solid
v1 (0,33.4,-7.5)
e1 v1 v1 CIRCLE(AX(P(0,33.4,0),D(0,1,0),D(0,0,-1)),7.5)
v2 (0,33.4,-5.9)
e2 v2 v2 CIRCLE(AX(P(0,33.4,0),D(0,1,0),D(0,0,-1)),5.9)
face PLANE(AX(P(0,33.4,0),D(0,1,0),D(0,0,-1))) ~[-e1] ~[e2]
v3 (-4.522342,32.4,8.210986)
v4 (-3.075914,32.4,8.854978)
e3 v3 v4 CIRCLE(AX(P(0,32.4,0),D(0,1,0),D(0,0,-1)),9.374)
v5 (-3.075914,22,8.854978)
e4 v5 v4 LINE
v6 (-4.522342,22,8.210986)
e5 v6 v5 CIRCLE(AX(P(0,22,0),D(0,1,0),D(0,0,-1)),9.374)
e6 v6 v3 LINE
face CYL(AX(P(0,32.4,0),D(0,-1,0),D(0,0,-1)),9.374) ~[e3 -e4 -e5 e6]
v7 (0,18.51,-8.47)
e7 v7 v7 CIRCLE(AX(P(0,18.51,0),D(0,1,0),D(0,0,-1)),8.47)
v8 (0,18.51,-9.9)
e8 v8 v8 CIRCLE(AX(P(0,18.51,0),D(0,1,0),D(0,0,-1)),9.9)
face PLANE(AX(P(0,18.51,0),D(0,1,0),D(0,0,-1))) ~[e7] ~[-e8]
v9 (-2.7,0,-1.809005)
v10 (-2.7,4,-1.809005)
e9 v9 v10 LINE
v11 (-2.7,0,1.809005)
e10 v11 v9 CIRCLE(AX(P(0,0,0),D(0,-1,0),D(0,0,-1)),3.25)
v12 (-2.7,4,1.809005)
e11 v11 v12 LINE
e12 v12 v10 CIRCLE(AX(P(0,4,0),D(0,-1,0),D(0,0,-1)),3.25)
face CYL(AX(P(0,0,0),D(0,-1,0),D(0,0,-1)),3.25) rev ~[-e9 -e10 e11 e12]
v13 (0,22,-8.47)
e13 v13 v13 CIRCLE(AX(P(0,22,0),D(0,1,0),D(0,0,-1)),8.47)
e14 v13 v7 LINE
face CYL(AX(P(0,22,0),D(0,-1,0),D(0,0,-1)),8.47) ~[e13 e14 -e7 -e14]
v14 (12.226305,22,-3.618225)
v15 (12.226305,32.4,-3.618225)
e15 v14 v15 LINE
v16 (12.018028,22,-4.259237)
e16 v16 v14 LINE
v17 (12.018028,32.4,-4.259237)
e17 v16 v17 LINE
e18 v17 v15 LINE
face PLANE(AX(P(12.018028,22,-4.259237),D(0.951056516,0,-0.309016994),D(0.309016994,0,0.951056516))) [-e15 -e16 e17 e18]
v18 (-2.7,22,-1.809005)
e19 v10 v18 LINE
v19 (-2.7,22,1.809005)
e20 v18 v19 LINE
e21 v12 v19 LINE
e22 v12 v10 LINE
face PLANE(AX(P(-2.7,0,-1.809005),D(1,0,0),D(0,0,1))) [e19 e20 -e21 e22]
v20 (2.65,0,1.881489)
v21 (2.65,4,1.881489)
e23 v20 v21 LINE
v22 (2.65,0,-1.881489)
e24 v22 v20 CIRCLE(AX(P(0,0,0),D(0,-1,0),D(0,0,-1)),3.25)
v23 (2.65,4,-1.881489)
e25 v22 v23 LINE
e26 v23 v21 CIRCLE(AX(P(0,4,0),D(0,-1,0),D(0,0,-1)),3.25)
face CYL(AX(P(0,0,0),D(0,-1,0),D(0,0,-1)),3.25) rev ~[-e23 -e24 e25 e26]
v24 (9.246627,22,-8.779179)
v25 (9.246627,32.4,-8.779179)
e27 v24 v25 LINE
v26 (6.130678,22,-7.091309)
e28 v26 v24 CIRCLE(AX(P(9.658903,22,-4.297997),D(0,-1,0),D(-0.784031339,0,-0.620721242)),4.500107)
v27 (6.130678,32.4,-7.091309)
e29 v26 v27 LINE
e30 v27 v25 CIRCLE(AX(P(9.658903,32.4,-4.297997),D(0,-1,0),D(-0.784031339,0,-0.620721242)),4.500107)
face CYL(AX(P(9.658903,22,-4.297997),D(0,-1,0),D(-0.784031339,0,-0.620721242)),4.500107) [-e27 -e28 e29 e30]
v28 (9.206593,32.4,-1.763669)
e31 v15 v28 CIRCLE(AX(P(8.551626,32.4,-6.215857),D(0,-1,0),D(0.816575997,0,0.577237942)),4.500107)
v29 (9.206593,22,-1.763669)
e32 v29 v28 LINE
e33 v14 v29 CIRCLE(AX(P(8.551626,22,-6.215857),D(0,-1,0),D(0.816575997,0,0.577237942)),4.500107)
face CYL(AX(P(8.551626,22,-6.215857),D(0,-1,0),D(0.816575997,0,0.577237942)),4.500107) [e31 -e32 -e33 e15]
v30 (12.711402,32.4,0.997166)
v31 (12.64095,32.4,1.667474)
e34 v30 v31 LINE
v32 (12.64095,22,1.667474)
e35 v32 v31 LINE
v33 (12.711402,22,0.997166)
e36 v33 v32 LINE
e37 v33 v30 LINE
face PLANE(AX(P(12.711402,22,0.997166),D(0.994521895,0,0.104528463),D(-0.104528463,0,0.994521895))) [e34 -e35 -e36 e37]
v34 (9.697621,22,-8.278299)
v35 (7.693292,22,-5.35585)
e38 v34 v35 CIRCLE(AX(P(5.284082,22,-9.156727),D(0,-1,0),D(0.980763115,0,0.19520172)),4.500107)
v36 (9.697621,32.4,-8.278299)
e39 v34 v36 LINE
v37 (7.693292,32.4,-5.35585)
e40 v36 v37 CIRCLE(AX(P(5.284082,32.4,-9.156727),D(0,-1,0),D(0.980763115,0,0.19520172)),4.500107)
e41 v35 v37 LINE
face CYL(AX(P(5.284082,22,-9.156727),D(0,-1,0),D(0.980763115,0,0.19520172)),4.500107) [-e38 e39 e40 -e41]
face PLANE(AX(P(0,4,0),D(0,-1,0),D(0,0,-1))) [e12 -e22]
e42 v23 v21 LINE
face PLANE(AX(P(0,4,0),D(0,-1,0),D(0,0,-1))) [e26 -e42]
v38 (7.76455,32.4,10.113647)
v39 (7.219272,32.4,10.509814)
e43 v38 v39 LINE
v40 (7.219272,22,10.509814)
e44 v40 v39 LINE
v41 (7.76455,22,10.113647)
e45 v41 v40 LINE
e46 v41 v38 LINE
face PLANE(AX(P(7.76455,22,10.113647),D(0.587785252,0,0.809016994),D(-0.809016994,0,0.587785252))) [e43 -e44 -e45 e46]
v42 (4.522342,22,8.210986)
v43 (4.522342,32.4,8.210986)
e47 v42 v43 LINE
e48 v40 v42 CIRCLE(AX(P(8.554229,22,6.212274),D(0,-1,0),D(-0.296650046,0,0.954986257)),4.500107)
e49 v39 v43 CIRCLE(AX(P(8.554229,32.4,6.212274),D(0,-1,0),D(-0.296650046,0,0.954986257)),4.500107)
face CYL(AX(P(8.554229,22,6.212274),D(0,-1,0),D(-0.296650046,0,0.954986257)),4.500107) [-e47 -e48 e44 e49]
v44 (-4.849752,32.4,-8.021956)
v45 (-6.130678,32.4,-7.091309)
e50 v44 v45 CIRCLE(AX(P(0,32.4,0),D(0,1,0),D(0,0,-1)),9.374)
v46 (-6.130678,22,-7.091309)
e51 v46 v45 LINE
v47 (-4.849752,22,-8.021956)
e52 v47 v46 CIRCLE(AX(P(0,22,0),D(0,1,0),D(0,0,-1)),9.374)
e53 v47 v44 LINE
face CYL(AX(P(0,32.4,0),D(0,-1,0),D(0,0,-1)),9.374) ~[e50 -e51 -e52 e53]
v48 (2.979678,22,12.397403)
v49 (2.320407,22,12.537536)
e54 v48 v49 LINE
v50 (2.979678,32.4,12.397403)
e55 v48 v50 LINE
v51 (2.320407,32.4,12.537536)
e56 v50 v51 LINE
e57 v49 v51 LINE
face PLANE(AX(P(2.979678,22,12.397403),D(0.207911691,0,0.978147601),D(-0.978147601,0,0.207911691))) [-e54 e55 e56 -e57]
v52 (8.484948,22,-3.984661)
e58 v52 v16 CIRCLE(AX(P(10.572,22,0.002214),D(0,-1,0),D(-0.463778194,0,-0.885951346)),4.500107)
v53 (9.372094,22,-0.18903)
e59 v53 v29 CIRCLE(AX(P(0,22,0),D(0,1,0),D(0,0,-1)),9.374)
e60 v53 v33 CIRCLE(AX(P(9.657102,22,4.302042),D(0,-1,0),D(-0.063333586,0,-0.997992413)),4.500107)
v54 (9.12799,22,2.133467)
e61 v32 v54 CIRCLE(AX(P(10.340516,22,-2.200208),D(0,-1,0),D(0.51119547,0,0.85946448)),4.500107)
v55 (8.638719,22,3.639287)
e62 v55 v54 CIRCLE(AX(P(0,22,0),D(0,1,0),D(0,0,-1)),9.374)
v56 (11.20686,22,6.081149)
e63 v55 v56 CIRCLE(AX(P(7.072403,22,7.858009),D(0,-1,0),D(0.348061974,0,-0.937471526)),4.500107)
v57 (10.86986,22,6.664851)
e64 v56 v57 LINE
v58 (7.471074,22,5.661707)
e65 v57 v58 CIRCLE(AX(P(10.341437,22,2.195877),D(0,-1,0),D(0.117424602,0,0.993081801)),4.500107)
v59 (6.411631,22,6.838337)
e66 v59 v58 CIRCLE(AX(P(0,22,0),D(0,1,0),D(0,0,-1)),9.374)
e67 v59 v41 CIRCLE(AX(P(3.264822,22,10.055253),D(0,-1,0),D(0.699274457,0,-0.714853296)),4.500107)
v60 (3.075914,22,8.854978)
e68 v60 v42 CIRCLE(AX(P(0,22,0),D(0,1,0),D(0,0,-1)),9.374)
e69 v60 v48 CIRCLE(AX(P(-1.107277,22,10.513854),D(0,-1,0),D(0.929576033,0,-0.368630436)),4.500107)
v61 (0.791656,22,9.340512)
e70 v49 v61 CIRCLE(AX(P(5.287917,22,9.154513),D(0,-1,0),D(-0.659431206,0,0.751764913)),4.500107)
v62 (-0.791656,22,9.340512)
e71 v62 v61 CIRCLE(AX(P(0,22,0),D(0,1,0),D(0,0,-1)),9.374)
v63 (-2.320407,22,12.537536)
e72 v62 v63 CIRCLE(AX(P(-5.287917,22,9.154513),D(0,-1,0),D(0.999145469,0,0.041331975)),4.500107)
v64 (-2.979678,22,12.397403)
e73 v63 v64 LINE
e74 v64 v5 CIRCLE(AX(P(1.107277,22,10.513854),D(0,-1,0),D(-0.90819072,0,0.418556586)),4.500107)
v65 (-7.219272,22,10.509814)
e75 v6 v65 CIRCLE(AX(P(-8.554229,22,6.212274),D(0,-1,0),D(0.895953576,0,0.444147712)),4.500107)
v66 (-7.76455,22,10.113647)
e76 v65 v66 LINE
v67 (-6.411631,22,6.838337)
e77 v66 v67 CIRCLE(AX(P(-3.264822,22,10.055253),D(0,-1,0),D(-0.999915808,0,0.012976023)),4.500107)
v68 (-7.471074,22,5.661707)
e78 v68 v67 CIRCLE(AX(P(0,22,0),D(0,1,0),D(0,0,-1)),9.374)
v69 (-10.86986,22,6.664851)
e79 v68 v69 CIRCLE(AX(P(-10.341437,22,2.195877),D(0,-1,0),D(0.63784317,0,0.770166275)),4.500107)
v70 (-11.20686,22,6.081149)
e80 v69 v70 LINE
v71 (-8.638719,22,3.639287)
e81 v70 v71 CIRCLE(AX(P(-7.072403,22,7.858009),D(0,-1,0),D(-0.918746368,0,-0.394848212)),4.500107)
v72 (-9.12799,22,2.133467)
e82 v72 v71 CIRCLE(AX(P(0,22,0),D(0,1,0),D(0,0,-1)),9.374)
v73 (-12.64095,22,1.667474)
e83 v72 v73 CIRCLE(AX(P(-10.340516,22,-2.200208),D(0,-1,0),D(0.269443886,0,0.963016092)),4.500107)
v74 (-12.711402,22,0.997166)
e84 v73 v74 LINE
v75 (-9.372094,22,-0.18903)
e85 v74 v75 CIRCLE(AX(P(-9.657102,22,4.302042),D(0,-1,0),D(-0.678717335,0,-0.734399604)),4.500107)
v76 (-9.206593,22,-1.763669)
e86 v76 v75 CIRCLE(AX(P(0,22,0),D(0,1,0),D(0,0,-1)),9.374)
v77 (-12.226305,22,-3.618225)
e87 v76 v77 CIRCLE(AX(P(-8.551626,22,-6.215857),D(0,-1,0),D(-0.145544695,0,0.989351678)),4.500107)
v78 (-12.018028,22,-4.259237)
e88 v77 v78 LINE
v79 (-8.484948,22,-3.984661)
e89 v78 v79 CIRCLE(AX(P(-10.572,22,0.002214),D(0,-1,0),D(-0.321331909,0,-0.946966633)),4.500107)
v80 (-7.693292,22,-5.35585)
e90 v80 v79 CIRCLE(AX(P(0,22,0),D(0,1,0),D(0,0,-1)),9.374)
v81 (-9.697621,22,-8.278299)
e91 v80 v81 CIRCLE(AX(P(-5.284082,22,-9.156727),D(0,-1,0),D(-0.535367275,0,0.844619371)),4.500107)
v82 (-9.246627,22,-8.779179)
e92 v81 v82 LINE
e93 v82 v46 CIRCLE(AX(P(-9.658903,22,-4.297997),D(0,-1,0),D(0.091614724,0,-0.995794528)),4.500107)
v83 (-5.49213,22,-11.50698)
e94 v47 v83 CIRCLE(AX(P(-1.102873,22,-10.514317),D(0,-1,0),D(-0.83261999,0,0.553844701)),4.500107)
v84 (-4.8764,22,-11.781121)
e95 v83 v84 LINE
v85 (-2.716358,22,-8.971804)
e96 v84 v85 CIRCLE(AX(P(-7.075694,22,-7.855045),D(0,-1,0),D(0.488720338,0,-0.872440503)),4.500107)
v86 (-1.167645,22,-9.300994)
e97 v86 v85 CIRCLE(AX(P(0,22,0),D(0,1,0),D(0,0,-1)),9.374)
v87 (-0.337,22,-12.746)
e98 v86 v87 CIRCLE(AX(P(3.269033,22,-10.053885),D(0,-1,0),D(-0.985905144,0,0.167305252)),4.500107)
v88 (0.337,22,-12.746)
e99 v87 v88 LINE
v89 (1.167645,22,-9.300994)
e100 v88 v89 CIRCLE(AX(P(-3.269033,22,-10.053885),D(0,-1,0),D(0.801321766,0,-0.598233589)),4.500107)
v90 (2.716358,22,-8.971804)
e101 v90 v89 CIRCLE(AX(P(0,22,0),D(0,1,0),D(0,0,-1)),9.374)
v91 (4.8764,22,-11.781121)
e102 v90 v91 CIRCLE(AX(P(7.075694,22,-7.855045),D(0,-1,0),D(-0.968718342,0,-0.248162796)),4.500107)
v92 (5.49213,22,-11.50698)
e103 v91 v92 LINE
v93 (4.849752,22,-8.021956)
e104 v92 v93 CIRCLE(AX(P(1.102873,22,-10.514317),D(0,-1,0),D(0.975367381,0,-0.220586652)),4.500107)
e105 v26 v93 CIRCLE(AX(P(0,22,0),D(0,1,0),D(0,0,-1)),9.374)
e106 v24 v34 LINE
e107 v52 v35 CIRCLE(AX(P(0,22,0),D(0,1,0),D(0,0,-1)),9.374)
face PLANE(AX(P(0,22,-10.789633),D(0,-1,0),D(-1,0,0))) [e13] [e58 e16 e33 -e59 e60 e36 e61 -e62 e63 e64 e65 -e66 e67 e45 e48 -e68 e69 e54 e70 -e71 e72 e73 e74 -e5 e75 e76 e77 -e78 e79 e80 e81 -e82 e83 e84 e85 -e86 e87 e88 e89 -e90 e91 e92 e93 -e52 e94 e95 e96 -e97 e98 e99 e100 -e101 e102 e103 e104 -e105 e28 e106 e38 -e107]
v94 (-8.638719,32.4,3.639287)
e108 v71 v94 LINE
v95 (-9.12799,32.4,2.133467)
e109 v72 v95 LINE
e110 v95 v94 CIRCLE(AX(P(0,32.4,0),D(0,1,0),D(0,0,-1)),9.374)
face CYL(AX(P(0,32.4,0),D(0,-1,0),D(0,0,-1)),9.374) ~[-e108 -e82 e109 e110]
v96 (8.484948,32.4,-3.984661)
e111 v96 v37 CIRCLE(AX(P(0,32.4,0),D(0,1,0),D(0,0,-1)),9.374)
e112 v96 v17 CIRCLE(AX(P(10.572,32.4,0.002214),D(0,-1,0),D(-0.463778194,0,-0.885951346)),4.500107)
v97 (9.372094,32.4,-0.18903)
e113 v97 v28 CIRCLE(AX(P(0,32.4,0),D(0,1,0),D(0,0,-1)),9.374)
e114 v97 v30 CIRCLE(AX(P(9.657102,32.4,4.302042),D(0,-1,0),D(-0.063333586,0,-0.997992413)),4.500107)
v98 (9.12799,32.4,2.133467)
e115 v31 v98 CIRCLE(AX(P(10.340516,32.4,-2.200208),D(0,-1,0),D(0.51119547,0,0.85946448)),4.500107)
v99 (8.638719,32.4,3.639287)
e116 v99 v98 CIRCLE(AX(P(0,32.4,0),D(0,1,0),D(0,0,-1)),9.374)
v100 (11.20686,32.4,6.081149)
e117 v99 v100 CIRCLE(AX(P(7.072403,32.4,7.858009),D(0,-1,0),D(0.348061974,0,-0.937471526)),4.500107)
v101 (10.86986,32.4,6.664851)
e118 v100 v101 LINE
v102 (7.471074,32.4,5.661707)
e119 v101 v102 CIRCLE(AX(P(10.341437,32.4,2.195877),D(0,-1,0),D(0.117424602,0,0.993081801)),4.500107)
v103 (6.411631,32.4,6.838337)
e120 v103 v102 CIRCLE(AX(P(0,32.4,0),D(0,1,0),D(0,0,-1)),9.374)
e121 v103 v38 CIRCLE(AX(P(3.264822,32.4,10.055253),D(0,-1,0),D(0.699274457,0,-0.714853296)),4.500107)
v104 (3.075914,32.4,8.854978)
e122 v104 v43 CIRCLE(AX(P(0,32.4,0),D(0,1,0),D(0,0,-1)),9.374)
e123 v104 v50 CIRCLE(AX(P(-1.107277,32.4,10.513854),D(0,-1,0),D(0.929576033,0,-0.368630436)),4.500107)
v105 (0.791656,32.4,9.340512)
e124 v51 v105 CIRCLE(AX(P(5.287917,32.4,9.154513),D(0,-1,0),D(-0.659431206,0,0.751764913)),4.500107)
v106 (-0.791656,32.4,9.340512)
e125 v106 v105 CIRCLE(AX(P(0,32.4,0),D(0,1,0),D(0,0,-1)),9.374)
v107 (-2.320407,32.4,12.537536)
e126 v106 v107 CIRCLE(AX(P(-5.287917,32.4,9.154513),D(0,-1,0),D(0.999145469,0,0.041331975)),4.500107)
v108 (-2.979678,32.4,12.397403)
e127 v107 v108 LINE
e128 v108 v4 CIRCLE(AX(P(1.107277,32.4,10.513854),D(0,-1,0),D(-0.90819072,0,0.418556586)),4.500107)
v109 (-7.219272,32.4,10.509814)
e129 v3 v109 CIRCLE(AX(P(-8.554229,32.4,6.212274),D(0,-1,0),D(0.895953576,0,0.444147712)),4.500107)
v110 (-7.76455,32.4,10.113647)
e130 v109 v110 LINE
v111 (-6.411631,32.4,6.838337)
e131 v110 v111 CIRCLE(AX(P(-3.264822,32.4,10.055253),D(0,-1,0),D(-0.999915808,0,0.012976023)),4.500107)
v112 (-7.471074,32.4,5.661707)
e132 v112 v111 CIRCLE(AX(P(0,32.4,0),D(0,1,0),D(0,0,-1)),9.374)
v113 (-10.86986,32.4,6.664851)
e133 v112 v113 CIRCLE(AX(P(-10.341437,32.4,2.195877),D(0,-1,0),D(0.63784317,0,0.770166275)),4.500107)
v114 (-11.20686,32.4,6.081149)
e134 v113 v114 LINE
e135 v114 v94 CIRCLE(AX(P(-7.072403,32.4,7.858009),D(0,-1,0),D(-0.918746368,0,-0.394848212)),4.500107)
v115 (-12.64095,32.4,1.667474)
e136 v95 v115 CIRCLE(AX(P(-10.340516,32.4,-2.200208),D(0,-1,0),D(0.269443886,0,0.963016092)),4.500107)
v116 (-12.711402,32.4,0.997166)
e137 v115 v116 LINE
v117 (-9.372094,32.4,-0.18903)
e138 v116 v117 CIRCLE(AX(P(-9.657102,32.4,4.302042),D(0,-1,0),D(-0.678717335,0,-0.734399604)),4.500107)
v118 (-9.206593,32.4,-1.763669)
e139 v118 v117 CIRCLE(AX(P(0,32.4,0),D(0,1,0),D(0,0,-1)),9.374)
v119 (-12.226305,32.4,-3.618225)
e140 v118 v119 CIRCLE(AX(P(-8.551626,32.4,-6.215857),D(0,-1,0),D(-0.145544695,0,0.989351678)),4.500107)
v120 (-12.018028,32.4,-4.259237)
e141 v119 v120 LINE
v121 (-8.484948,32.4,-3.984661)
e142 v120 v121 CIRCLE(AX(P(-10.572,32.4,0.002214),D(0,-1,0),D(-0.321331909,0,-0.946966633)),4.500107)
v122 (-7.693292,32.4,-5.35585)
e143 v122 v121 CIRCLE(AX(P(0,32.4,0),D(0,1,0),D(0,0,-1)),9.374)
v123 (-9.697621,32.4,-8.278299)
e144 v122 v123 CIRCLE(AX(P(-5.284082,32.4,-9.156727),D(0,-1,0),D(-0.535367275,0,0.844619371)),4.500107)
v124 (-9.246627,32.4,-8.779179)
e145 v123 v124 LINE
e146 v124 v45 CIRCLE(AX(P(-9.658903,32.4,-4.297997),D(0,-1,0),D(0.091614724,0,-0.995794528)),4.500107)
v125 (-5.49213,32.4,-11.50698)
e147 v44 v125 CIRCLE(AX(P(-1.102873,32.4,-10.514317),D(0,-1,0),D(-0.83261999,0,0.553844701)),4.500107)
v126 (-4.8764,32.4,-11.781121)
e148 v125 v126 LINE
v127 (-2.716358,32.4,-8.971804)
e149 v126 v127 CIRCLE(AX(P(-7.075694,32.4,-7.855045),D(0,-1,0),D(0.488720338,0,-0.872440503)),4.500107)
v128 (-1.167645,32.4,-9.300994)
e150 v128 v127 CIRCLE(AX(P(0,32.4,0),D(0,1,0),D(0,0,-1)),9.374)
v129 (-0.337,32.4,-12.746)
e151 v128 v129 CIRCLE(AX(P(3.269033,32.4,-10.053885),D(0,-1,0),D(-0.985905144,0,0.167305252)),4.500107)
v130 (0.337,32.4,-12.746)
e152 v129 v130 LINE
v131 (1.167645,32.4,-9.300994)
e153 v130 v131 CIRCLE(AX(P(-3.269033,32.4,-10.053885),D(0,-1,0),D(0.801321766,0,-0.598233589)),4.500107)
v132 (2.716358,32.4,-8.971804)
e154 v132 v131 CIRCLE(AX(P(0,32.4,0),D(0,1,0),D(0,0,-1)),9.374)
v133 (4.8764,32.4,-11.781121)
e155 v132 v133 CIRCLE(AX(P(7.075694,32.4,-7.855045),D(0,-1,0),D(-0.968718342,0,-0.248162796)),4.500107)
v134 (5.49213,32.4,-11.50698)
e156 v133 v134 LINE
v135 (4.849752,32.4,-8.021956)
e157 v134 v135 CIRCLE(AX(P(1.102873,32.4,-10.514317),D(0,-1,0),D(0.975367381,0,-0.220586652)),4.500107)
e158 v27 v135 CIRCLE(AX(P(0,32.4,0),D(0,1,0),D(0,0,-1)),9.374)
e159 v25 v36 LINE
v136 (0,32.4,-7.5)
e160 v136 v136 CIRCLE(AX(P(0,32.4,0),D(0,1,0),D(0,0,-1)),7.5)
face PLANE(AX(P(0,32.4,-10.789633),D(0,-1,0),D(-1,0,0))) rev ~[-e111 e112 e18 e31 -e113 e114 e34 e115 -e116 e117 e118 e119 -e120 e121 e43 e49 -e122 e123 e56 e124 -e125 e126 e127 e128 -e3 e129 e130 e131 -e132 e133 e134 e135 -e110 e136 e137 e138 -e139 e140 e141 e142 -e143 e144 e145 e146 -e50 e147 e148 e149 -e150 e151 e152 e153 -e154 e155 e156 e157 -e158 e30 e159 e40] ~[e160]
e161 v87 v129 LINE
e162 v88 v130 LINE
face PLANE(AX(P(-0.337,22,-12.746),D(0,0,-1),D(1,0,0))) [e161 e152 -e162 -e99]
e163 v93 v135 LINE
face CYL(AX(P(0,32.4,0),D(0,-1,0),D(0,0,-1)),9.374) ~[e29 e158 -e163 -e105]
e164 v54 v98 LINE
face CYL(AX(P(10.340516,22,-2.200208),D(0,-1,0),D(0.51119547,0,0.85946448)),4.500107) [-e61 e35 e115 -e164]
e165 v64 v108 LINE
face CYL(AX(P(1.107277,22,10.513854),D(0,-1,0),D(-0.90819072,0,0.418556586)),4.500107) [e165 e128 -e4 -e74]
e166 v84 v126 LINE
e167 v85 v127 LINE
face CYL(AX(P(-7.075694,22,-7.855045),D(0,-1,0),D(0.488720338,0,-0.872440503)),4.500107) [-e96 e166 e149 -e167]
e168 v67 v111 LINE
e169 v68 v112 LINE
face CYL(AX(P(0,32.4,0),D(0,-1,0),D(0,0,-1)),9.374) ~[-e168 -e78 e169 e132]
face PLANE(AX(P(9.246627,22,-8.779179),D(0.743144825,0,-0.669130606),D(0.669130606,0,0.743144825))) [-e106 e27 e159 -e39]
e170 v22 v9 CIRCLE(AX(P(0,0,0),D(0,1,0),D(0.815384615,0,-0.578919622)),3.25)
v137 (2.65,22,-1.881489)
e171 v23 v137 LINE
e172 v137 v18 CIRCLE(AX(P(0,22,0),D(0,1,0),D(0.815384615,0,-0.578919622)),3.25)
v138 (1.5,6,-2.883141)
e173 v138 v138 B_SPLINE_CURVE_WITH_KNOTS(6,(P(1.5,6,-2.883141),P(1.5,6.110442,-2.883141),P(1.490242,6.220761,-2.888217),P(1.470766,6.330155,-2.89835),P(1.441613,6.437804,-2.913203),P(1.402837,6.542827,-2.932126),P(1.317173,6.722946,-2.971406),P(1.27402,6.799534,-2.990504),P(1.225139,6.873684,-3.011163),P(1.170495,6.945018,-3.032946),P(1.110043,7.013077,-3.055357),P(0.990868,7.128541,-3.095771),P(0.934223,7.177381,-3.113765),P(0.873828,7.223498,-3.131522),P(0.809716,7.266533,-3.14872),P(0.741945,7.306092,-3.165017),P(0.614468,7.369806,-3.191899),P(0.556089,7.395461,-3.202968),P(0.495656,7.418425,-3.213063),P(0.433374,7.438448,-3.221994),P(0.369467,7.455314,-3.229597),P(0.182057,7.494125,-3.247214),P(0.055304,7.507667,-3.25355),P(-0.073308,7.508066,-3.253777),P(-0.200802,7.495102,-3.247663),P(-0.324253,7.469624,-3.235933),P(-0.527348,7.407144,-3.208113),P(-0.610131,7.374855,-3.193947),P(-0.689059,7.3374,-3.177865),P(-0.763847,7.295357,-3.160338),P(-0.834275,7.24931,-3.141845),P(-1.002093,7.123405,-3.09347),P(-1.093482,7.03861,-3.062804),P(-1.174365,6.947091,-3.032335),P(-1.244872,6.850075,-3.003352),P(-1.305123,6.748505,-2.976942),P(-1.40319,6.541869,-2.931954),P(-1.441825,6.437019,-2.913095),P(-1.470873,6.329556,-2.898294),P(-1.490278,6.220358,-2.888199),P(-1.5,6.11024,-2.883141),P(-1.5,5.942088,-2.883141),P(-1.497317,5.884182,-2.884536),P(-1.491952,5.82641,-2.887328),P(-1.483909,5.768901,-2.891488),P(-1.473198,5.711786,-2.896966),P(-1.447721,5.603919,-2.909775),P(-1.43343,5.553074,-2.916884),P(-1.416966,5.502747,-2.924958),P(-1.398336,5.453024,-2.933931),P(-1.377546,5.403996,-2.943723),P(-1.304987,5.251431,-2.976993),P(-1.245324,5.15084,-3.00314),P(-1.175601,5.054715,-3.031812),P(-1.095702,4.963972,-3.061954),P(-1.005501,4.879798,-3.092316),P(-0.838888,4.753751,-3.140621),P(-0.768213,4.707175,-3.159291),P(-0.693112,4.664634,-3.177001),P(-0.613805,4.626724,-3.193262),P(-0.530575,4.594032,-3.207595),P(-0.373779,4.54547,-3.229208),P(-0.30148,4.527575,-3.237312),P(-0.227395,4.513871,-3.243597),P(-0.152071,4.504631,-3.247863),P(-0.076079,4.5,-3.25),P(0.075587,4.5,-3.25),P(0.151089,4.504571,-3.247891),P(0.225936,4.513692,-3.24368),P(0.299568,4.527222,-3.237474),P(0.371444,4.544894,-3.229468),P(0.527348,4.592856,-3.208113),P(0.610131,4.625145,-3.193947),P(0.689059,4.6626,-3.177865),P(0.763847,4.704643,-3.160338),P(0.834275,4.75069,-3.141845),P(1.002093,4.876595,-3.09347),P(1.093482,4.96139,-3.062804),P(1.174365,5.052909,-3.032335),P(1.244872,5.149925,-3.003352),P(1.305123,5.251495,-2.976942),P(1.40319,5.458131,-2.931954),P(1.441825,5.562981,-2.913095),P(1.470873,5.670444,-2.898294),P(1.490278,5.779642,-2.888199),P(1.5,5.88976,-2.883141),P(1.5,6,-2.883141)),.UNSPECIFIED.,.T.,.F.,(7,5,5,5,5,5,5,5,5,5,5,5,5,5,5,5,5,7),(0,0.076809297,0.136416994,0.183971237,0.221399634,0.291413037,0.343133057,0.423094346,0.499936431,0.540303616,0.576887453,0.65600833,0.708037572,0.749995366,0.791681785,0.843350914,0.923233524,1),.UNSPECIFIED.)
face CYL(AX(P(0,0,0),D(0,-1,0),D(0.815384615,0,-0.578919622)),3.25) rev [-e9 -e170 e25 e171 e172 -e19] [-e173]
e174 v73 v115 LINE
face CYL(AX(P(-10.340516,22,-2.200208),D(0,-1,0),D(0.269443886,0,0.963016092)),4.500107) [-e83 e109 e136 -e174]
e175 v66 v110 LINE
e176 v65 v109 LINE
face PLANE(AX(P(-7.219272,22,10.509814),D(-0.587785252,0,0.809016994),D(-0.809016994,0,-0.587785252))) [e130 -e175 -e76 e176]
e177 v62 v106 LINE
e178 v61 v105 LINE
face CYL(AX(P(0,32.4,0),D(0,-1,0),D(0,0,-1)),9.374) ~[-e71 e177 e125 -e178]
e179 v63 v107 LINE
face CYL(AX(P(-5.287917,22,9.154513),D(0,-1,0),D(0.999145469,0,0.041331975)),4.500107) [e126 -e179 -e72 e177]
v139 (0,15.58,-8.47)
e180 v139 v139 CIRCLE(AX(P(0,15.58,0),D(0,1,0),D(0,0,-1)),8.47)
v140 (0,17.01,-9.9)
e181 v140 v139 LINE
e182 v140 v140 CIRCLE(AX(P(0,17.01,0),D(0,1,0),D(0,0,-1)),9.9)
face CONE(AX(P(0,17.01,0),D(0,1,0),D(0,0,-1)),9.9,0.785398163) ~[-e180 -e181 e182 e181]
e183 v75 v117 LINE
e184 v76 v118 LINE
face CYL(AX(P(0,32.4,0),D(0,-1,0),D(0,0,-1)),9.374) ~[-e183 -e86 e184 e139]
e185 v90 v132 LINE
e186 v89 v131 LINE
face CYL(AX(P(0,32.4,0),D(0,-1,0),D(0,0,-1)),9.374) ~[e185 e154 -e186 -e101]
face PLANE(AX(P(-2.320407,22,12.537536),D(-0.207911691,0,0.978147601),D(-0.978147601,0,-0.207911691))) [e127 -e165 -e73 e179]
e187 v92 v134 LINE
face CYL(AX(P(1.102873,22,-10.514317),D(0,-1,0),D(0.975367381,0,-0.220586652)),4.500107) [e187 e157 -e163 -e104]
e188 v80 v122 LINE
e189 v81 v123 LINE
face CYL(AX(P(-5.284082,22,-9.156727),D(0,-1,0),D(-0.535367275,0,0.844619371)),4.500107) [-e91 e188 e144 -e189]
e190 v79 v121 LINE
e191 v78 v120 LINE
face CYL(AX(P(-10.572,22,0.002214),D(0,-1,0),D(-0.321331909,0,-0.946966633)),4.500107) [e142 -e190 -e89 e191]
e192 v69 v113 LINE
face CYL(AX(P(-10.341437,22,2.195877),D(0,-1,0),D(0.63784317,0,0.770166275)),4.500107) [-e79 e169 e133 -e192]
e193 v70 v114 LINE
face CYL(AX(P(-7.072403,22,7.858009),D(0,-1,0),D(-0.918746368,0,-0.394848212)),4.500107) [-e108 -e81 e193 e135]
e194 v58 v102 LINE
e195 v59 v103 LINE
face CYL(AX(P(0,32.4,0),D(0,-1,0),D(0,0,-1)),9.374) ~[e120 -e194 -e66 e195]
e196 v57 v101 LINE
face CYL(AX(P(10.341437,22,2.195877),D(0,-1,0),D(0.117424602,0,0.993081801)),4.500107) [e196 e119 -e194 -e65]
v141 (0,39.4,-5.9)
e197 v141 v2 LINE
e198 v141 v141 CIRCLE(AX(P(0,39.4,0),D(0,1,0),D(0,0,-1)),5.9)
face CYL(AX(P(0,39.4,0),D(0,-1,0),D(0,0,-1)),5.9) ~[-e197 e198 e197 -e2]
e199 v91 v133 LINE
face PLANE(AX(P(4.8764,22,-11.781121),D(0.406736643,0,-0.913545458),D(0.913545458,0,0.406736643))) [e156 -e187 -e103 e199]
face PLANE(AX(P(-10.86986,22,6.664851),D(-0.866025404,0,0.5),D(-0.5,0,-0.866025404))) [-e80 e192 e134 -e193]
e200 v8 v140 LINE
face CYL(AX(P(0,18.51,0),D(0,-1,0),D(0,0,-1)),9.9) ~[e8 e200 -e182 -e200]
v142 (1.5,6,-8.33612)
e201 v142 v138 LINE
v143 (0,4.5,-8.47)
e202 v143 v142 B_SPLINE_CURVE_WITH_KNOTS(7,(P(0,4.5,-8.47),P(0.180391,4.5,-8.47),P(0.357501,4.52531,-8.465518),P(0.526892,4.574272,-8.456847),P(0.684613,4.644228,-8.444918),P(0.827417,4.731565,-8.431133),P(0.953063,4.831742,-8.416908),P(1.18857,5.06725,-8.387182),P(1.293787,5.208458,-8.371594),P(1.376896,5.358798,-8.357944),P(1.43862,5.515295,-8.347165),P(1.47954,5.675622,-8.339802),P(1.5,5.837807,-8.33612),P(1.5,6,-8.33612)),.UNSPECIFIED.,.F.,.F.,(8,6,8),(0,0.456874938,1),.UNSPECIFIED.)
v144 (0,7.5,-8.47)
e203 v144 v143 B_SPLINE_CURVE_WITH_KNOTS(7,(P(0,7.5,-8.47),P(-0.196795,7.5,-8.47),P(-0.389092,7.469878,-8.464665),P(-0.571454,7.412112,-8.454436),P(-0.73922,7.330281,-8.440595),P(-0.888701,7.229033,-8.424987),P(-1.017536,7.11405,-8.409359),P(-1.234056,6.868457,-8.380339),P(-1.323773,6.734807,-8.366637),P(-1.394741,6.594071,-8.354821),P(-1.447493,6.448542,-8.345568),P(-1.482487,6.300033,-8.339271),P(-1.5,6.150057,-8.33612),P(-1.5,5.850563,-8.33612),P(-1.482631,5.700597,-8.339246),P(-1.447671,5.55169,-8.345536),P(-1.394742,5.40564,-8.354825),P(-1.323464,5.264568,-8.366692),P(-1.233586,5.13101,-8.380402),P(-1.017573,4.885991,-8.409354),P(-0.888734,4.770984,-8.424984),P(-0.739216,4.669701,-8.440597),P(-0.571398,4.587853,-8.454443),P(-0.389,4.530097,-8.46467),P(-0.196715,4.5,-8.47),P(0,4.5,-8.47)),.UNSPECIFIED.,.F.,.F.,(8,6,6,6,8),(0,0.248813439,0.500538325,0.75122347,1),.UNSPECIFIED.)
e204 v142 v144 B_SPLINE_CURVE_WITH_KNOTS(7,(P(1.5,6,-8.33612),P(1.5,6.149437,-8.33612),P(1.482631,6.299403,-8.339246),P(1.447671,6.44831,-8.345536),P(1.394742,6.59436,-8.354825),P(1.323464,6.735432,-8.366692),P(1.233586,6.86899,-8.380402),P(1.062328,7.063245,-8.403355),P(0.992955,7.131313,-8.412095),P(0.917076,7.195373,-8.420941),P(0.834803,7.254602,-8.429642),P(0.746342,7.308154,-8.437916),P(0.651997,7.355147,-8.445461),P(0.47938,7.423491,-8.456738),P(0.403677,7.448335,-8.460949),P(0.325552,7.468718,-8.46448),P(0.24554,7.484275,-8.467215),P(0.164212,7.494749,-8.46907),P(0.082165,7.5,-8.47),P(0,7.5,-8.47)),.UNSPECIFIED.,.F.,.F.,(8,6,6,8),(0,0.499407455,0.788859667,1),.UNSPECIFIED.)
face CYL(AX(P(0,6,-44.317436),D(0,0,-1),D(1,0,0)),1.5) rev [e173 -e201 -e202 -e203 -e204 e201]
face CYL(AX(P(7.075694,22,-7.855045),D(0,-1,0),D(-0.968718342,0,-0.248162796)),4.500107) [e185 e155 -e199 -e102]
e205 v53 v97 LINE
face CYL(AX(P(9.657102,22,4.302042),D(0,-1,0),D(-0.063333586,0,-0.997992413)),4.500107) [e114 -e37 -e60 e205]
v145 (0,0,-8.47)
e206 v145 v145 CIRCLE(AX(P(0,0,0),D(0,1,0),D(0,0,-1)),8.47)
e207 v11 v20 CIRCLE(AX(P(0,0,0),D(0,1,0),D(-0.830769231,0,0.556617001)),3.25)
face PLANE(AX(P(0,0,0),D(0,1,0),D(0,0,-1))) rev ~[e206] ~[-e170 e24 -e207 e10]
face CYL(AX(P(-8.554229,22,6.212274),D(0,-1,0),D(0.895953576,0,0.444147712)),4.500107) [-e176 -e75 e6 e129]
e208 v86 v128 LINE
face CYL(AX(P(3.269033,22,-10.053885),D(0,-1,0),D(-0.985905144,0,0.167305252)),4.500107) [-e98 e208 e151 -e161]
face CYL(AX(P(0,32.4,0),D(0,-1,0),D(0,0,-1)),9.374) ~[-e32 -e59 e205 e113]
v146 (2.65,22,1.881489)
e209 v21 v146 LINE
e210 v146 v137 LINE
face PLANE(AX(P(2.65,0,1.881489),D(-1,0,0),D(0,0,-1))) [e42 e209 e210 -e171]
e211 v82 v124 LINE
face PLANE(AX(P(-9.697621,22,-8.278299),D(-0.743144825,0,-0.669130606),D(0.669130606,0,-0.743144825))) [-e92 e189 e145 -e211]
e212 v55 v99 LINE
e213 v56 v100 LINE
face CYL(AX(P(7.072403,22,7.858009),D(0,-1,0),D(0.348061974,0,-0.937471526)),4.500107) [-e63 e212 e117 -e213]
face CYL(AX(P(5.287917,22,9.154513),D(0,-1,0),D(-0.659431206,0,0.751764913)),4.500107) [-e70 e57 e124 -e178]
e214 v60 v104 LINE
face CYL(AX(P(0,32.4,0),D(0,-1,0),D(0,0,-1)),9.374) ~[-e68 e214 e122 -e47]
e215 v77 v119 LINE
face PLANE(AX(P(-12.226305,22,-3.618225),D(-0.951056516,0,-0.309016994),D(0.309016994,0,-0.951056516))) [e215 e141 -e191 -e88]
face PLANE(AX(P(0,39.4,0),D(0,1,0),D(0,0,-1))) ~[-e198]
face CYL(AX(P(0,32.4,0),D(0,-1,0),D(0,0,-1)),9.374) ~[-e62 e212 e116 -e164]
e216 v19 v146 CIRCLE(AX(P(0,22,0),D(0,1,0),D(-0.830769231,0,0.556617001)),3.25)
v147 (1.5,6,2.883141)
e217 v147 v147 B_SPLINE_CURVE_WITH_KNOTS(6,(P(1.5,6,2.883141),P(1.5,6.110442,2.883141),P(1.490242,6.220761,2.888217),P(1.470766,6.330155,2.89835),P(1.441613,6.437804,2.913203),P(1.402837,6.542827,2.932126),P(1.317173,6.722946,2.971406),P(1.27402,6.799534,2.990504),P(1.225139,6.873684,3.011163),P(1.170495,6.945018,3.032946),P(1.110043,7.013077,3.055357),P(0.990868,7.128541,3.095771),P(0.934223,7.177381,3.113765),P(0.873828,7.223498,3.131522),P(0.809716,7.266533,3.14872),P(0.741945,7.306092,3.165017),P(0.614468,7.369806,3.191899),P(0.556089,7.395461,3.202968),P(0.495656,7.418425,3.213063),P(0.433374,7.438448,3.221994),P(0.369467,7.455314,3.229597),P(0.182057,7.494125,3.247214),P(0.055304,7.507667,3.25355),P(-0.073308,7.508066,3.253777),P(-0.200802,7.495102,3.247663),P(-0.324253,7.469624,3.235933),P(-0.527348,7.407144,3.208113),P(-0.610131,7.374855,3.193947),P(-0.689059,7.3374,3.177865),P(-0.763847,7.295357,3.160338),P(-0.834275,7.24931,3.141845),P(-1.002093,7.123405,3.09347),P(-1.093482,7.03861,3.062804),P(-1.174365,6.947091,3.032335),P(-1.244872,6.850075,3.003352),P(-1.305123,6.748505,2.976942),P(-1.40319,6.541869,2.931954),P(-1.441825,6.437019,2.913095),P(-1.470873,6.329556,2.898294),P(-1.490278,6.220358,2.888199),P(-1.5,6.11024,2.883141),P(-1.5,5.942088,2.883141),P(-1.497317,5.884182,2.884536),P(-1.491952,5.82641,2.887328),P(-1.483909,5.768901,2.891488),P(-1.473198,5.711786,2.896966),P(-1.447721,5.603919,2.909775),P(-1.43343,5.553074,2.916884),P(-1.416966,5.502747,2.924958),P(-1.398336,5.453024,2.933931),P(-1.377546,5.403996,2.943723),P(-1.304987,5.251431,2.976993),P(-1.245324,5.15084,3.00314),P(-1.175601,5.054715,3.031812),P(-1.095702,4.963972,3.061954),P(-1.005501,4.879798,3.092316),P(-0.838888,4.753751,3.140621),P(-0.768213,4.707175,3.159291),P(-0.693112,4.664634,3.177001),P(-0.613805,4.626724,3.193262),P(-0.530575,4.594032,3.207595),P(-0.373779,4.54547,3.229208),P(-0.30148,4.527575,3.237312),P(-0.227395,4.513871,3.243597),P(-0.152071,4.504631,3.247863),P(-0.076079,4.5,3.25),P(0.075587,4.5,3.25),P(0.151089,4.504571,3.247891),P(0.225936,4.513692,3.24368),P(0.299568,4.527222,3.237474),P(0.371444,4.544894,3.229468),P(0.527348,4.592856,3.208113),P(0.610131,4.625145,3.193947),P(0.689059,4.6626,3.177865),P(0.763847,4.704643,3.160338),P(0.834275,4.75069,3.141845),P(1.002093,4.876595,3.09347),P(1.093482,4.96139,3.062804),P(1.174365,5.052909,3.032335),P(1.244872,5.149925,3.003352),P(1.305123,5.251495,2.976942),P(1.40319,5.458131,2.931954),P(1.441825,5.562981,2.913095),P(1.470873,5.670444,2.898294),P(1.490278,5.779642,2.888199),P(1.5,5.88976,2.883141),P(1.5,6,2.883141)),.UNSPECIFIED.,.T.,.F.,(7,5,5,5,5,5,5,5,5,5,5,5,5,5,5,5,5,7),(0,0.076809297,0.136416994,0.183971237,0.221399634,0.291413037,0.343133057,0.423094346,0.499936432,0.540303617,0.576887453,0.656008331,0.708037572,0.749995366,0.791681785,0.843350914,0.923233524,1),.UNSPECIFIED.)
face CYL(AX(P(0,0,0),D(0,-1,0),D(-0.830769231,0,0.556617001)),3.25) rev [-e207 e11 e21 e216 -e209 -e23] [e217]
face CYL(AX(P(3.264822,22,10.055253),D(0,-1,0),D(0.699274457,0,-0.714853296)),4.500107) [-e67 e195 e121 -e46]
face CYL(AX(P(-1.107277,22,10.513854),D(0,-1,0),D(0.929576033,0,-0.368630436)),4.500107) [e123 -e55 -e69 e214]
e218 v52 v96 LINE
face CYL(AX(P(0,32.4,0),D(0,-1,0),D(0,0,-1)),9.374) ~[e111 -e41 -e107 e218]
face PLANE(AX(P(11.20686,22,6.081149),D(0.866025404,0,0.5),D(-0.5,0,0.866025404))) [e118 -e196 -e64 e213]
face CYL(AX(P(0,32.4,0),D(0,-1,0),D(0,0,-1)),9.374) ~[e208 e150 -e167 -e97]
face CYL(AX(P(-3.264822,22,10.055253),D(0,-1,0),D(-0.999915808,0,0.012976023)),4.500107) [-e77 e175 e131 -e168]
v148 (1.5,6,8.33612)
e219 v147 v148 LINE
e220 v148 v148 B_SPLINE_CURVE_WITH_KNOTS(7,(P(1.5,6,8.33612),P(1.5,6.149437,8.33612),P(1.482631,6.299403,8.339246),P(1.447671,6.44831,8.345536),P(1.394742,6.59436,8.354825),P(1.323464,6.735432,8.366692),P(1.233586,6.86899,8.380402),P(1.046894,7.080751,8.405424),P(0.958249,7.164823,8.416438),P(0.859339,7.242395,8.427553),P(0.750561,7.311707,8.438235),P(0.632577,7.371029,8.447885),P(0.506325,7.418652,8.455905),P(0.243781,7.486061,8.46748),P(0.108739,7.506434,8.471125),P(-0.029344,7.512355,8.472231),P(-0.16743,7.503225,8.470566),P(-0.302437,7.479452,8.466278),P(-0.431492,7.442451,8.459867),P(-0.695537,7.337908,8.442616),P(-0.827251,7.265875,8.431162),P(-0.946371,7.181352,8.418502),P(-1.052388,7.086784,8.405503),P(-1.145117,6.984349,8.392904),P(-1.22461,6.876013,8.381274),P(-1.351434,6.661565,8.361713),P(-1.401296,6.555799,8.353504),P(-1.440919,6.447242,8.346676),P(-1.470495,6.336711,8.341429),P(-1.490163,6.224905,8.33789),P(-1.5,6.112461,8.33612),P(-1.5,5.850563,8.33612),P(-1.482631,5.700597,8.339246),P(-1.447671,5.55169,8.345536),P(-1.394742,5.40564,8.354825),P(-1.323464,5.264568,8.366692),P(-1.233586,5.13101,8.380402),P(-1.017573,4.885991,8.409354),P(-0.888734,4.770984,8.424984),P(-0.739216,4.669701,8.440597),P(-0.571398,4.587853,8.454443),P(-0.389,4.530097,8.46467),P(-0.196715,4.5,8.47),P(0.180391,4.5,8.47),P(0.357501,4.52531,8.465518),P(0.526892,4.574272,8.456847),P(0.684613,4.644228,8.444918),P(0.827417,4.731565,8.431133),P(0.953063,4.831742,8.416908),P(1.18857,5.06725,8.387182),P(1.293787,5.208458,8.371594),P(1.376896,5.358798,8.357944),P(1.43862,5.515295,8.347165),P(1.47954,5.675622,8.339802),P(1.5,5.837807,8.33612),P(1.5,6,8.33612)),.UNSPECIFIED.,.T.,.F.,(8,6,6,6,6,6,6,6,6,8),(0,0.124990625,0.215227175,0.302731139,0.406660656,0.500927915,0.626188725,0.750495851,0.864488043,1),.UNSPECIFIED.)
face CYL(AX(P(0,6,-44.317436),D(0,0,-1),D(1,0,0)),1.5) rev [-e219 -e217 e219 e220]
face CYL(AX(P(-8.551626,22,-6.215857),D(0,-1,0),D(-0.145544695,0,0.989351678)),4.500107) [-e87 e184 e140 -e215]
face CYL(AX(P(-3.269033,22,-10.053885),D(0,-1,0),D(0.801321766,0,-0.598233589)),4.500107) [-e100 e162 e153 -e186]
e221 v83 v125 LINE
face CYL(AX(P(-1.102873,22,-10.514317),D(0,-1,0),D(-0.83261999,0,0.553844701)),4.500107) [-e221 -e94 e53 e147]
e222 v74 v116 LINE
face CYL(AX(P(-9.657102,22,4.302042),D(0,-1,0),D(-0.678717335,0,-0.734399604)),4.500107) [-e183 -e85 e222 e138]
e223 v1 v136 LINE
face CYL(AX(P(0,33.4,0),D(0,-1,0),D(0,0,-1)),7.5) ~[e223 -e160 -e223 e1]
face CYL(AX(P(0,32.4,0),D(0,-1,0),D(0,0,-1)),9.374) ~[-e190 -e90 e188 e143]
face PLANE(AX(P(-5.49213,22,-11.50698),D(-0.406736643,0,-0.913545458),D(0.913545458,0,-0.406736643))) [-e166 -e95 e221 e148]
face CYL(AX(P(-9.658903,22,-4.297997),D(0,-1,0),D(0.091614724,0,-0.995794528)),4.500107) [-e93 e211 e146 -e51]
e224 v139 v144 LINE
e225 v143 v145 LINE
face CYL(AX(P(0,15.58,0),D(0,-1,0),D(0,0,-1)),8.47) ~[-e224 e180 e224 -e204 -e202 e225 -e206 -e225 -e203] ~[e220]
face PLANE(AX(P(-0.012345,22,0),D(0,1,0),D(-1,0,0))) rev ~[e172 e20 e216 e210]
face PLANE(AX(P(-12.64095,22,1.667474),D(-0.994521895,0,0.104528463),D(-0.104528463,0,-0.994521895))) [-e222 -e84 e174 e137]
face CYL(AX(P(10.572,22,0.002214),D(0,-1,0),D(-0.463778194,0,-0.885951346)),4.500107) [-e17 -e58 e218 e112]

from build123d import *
from build123d.topology import SkipClean

# Parameters (mm, degrees)
RESSALTO_EXTRUS_O1_START   = -10.4
RESSALTO_EXTRUS_O1_DEPTH   = 10.4
PADR_OCIRCULAR1_COUNT      = 15
CORTE_EXTRUS_O1_DEPTH      = 22
ESBO_O4_R                  = 3.25
CORTE_EXTRUS_O2_DEPTH      = 4
CORTE_EXTRUS_O4_DEPTH      = 44.317435995
CORTE_EXTRUS_O4_DEPTH_BACK = 44.317435995
ESBO_O7_R                  = 1.5


with BuildPart() as part:
    # Esboço1 → Revolução1 (revolve)
    with BuildSketch(Plane.XY, mode=Mode.PRIVATE) as revolu_o1_sk:
        Polygon((0, 0), (0, 39.4), (5.9, 39.4), (5.9, 33.4), (7.5, 33.4), (7.5, 32.4), (9.374, 32.4), (9.374, 22), (8.47, 22), (8.47, 18.51), (9.9, 18.51), (9.9, 17.01), (8.47, 15.58), (8.47, 0), align=None)
    revolve(revolu_o1_sk.sketch.rotate(Axis((0, 0, 0), (0, 1, 0)), 90), axis=Axis((0, 0, 0), (0, 1, 0)))

    # Esboço2 → Ressalto-extrusão1 (add)
    with BuildSketch(Plane(origin=(0, 32.4, 0), x_dir=(1, 0, 0), z_dir=(0, 1, 0)).offset(RESSALTO_EXTRUS_O1_START)):
        with BuildLine():
            Line((-0.337, 12.746), (0.337, 12.746))
            ThreePointArc((0.337, 12.746), (1.105703178, 11.108702403), (1.167644885, 9.300993572))
            ThreePointArc((1.167644885, 9.300993572), (0, 9.374), (-1.167644885, 9.300993572))
            ThreePointArc((-1.167644885, 9.300993572), (-1.105703178, 11.108702403), (-0.337, 12.746))
        make_face()
    ressalto_extrus_o1 = extrude(amount=RESSALTO_EXTRUS_O1_DEPTH)

    # PadrãoCircular1: Ressalto-extrusão1 ×15 about axis
    padr_ocircular1_axis = Axis((0, 0, 0), (0, 1, 0))
    for i in range(1, PADR_OCIRCULAR1_COUNT):
        add(ressalto_extrus_o1.rotate(padr_ocircular1_axis, i * 360 / PADR_OCIRCULAR1_COUNT))

    # Esboço3 → Corte-extrusão1 (cut)
    with BuildSketch(Plane.XZ):
        with BuildLine():
            Line((2.65, 1.881488772), (2.65, -1.881488772))
            ThreePointArc((2.65, -1.881488772), (-0.044028005, -3.249701761), (-2.7, -1.809005252))
            Line((-2.7, -1.809005252), (-2.7, 1.809005252))
            ThreePointArc((-2.7, 1.809005252), (-0.044028005, 3.249701761), (2.65, 1.881488772))
        make_face()
    extrude(amount=-CORTE_EXTRUS_O1_DEPTH, mode=Mode.SUBTRACT)

    # Esboço4 → Corte-extrusão2 (cut)
    with SkipClean():  # the faces are left unmerged after this step: merging them gives an invalid solid
        with BuildSketch(Plane.XZ):
            with Locations(Location((0, 0, 0), (0, 0, 270))):
                Circle(ESBO_O4_R)
        extrude(amount=-CORTE_EXTRUS_O2_DEPTH, mode=Mode.SUBTRACT)

    # Esboço7 → Corte-extrusão4 (cut, two sides: drawn at the far end of the back side and taken through both)
    with BuildSketch(Plane.XY.offset(-CORTE_EXTRUS_O4_DEPTH_BACK)):
        with Locations((0, 6)):
            Circle(ESBO_O7_R)
    extrude(amount=CORTE_EXTRUS_O4_DEPTH + CORTE_EXTRUS_O4_DEPTH_BACK, mode=Mode.SUBTRACT)


solid = part.part
